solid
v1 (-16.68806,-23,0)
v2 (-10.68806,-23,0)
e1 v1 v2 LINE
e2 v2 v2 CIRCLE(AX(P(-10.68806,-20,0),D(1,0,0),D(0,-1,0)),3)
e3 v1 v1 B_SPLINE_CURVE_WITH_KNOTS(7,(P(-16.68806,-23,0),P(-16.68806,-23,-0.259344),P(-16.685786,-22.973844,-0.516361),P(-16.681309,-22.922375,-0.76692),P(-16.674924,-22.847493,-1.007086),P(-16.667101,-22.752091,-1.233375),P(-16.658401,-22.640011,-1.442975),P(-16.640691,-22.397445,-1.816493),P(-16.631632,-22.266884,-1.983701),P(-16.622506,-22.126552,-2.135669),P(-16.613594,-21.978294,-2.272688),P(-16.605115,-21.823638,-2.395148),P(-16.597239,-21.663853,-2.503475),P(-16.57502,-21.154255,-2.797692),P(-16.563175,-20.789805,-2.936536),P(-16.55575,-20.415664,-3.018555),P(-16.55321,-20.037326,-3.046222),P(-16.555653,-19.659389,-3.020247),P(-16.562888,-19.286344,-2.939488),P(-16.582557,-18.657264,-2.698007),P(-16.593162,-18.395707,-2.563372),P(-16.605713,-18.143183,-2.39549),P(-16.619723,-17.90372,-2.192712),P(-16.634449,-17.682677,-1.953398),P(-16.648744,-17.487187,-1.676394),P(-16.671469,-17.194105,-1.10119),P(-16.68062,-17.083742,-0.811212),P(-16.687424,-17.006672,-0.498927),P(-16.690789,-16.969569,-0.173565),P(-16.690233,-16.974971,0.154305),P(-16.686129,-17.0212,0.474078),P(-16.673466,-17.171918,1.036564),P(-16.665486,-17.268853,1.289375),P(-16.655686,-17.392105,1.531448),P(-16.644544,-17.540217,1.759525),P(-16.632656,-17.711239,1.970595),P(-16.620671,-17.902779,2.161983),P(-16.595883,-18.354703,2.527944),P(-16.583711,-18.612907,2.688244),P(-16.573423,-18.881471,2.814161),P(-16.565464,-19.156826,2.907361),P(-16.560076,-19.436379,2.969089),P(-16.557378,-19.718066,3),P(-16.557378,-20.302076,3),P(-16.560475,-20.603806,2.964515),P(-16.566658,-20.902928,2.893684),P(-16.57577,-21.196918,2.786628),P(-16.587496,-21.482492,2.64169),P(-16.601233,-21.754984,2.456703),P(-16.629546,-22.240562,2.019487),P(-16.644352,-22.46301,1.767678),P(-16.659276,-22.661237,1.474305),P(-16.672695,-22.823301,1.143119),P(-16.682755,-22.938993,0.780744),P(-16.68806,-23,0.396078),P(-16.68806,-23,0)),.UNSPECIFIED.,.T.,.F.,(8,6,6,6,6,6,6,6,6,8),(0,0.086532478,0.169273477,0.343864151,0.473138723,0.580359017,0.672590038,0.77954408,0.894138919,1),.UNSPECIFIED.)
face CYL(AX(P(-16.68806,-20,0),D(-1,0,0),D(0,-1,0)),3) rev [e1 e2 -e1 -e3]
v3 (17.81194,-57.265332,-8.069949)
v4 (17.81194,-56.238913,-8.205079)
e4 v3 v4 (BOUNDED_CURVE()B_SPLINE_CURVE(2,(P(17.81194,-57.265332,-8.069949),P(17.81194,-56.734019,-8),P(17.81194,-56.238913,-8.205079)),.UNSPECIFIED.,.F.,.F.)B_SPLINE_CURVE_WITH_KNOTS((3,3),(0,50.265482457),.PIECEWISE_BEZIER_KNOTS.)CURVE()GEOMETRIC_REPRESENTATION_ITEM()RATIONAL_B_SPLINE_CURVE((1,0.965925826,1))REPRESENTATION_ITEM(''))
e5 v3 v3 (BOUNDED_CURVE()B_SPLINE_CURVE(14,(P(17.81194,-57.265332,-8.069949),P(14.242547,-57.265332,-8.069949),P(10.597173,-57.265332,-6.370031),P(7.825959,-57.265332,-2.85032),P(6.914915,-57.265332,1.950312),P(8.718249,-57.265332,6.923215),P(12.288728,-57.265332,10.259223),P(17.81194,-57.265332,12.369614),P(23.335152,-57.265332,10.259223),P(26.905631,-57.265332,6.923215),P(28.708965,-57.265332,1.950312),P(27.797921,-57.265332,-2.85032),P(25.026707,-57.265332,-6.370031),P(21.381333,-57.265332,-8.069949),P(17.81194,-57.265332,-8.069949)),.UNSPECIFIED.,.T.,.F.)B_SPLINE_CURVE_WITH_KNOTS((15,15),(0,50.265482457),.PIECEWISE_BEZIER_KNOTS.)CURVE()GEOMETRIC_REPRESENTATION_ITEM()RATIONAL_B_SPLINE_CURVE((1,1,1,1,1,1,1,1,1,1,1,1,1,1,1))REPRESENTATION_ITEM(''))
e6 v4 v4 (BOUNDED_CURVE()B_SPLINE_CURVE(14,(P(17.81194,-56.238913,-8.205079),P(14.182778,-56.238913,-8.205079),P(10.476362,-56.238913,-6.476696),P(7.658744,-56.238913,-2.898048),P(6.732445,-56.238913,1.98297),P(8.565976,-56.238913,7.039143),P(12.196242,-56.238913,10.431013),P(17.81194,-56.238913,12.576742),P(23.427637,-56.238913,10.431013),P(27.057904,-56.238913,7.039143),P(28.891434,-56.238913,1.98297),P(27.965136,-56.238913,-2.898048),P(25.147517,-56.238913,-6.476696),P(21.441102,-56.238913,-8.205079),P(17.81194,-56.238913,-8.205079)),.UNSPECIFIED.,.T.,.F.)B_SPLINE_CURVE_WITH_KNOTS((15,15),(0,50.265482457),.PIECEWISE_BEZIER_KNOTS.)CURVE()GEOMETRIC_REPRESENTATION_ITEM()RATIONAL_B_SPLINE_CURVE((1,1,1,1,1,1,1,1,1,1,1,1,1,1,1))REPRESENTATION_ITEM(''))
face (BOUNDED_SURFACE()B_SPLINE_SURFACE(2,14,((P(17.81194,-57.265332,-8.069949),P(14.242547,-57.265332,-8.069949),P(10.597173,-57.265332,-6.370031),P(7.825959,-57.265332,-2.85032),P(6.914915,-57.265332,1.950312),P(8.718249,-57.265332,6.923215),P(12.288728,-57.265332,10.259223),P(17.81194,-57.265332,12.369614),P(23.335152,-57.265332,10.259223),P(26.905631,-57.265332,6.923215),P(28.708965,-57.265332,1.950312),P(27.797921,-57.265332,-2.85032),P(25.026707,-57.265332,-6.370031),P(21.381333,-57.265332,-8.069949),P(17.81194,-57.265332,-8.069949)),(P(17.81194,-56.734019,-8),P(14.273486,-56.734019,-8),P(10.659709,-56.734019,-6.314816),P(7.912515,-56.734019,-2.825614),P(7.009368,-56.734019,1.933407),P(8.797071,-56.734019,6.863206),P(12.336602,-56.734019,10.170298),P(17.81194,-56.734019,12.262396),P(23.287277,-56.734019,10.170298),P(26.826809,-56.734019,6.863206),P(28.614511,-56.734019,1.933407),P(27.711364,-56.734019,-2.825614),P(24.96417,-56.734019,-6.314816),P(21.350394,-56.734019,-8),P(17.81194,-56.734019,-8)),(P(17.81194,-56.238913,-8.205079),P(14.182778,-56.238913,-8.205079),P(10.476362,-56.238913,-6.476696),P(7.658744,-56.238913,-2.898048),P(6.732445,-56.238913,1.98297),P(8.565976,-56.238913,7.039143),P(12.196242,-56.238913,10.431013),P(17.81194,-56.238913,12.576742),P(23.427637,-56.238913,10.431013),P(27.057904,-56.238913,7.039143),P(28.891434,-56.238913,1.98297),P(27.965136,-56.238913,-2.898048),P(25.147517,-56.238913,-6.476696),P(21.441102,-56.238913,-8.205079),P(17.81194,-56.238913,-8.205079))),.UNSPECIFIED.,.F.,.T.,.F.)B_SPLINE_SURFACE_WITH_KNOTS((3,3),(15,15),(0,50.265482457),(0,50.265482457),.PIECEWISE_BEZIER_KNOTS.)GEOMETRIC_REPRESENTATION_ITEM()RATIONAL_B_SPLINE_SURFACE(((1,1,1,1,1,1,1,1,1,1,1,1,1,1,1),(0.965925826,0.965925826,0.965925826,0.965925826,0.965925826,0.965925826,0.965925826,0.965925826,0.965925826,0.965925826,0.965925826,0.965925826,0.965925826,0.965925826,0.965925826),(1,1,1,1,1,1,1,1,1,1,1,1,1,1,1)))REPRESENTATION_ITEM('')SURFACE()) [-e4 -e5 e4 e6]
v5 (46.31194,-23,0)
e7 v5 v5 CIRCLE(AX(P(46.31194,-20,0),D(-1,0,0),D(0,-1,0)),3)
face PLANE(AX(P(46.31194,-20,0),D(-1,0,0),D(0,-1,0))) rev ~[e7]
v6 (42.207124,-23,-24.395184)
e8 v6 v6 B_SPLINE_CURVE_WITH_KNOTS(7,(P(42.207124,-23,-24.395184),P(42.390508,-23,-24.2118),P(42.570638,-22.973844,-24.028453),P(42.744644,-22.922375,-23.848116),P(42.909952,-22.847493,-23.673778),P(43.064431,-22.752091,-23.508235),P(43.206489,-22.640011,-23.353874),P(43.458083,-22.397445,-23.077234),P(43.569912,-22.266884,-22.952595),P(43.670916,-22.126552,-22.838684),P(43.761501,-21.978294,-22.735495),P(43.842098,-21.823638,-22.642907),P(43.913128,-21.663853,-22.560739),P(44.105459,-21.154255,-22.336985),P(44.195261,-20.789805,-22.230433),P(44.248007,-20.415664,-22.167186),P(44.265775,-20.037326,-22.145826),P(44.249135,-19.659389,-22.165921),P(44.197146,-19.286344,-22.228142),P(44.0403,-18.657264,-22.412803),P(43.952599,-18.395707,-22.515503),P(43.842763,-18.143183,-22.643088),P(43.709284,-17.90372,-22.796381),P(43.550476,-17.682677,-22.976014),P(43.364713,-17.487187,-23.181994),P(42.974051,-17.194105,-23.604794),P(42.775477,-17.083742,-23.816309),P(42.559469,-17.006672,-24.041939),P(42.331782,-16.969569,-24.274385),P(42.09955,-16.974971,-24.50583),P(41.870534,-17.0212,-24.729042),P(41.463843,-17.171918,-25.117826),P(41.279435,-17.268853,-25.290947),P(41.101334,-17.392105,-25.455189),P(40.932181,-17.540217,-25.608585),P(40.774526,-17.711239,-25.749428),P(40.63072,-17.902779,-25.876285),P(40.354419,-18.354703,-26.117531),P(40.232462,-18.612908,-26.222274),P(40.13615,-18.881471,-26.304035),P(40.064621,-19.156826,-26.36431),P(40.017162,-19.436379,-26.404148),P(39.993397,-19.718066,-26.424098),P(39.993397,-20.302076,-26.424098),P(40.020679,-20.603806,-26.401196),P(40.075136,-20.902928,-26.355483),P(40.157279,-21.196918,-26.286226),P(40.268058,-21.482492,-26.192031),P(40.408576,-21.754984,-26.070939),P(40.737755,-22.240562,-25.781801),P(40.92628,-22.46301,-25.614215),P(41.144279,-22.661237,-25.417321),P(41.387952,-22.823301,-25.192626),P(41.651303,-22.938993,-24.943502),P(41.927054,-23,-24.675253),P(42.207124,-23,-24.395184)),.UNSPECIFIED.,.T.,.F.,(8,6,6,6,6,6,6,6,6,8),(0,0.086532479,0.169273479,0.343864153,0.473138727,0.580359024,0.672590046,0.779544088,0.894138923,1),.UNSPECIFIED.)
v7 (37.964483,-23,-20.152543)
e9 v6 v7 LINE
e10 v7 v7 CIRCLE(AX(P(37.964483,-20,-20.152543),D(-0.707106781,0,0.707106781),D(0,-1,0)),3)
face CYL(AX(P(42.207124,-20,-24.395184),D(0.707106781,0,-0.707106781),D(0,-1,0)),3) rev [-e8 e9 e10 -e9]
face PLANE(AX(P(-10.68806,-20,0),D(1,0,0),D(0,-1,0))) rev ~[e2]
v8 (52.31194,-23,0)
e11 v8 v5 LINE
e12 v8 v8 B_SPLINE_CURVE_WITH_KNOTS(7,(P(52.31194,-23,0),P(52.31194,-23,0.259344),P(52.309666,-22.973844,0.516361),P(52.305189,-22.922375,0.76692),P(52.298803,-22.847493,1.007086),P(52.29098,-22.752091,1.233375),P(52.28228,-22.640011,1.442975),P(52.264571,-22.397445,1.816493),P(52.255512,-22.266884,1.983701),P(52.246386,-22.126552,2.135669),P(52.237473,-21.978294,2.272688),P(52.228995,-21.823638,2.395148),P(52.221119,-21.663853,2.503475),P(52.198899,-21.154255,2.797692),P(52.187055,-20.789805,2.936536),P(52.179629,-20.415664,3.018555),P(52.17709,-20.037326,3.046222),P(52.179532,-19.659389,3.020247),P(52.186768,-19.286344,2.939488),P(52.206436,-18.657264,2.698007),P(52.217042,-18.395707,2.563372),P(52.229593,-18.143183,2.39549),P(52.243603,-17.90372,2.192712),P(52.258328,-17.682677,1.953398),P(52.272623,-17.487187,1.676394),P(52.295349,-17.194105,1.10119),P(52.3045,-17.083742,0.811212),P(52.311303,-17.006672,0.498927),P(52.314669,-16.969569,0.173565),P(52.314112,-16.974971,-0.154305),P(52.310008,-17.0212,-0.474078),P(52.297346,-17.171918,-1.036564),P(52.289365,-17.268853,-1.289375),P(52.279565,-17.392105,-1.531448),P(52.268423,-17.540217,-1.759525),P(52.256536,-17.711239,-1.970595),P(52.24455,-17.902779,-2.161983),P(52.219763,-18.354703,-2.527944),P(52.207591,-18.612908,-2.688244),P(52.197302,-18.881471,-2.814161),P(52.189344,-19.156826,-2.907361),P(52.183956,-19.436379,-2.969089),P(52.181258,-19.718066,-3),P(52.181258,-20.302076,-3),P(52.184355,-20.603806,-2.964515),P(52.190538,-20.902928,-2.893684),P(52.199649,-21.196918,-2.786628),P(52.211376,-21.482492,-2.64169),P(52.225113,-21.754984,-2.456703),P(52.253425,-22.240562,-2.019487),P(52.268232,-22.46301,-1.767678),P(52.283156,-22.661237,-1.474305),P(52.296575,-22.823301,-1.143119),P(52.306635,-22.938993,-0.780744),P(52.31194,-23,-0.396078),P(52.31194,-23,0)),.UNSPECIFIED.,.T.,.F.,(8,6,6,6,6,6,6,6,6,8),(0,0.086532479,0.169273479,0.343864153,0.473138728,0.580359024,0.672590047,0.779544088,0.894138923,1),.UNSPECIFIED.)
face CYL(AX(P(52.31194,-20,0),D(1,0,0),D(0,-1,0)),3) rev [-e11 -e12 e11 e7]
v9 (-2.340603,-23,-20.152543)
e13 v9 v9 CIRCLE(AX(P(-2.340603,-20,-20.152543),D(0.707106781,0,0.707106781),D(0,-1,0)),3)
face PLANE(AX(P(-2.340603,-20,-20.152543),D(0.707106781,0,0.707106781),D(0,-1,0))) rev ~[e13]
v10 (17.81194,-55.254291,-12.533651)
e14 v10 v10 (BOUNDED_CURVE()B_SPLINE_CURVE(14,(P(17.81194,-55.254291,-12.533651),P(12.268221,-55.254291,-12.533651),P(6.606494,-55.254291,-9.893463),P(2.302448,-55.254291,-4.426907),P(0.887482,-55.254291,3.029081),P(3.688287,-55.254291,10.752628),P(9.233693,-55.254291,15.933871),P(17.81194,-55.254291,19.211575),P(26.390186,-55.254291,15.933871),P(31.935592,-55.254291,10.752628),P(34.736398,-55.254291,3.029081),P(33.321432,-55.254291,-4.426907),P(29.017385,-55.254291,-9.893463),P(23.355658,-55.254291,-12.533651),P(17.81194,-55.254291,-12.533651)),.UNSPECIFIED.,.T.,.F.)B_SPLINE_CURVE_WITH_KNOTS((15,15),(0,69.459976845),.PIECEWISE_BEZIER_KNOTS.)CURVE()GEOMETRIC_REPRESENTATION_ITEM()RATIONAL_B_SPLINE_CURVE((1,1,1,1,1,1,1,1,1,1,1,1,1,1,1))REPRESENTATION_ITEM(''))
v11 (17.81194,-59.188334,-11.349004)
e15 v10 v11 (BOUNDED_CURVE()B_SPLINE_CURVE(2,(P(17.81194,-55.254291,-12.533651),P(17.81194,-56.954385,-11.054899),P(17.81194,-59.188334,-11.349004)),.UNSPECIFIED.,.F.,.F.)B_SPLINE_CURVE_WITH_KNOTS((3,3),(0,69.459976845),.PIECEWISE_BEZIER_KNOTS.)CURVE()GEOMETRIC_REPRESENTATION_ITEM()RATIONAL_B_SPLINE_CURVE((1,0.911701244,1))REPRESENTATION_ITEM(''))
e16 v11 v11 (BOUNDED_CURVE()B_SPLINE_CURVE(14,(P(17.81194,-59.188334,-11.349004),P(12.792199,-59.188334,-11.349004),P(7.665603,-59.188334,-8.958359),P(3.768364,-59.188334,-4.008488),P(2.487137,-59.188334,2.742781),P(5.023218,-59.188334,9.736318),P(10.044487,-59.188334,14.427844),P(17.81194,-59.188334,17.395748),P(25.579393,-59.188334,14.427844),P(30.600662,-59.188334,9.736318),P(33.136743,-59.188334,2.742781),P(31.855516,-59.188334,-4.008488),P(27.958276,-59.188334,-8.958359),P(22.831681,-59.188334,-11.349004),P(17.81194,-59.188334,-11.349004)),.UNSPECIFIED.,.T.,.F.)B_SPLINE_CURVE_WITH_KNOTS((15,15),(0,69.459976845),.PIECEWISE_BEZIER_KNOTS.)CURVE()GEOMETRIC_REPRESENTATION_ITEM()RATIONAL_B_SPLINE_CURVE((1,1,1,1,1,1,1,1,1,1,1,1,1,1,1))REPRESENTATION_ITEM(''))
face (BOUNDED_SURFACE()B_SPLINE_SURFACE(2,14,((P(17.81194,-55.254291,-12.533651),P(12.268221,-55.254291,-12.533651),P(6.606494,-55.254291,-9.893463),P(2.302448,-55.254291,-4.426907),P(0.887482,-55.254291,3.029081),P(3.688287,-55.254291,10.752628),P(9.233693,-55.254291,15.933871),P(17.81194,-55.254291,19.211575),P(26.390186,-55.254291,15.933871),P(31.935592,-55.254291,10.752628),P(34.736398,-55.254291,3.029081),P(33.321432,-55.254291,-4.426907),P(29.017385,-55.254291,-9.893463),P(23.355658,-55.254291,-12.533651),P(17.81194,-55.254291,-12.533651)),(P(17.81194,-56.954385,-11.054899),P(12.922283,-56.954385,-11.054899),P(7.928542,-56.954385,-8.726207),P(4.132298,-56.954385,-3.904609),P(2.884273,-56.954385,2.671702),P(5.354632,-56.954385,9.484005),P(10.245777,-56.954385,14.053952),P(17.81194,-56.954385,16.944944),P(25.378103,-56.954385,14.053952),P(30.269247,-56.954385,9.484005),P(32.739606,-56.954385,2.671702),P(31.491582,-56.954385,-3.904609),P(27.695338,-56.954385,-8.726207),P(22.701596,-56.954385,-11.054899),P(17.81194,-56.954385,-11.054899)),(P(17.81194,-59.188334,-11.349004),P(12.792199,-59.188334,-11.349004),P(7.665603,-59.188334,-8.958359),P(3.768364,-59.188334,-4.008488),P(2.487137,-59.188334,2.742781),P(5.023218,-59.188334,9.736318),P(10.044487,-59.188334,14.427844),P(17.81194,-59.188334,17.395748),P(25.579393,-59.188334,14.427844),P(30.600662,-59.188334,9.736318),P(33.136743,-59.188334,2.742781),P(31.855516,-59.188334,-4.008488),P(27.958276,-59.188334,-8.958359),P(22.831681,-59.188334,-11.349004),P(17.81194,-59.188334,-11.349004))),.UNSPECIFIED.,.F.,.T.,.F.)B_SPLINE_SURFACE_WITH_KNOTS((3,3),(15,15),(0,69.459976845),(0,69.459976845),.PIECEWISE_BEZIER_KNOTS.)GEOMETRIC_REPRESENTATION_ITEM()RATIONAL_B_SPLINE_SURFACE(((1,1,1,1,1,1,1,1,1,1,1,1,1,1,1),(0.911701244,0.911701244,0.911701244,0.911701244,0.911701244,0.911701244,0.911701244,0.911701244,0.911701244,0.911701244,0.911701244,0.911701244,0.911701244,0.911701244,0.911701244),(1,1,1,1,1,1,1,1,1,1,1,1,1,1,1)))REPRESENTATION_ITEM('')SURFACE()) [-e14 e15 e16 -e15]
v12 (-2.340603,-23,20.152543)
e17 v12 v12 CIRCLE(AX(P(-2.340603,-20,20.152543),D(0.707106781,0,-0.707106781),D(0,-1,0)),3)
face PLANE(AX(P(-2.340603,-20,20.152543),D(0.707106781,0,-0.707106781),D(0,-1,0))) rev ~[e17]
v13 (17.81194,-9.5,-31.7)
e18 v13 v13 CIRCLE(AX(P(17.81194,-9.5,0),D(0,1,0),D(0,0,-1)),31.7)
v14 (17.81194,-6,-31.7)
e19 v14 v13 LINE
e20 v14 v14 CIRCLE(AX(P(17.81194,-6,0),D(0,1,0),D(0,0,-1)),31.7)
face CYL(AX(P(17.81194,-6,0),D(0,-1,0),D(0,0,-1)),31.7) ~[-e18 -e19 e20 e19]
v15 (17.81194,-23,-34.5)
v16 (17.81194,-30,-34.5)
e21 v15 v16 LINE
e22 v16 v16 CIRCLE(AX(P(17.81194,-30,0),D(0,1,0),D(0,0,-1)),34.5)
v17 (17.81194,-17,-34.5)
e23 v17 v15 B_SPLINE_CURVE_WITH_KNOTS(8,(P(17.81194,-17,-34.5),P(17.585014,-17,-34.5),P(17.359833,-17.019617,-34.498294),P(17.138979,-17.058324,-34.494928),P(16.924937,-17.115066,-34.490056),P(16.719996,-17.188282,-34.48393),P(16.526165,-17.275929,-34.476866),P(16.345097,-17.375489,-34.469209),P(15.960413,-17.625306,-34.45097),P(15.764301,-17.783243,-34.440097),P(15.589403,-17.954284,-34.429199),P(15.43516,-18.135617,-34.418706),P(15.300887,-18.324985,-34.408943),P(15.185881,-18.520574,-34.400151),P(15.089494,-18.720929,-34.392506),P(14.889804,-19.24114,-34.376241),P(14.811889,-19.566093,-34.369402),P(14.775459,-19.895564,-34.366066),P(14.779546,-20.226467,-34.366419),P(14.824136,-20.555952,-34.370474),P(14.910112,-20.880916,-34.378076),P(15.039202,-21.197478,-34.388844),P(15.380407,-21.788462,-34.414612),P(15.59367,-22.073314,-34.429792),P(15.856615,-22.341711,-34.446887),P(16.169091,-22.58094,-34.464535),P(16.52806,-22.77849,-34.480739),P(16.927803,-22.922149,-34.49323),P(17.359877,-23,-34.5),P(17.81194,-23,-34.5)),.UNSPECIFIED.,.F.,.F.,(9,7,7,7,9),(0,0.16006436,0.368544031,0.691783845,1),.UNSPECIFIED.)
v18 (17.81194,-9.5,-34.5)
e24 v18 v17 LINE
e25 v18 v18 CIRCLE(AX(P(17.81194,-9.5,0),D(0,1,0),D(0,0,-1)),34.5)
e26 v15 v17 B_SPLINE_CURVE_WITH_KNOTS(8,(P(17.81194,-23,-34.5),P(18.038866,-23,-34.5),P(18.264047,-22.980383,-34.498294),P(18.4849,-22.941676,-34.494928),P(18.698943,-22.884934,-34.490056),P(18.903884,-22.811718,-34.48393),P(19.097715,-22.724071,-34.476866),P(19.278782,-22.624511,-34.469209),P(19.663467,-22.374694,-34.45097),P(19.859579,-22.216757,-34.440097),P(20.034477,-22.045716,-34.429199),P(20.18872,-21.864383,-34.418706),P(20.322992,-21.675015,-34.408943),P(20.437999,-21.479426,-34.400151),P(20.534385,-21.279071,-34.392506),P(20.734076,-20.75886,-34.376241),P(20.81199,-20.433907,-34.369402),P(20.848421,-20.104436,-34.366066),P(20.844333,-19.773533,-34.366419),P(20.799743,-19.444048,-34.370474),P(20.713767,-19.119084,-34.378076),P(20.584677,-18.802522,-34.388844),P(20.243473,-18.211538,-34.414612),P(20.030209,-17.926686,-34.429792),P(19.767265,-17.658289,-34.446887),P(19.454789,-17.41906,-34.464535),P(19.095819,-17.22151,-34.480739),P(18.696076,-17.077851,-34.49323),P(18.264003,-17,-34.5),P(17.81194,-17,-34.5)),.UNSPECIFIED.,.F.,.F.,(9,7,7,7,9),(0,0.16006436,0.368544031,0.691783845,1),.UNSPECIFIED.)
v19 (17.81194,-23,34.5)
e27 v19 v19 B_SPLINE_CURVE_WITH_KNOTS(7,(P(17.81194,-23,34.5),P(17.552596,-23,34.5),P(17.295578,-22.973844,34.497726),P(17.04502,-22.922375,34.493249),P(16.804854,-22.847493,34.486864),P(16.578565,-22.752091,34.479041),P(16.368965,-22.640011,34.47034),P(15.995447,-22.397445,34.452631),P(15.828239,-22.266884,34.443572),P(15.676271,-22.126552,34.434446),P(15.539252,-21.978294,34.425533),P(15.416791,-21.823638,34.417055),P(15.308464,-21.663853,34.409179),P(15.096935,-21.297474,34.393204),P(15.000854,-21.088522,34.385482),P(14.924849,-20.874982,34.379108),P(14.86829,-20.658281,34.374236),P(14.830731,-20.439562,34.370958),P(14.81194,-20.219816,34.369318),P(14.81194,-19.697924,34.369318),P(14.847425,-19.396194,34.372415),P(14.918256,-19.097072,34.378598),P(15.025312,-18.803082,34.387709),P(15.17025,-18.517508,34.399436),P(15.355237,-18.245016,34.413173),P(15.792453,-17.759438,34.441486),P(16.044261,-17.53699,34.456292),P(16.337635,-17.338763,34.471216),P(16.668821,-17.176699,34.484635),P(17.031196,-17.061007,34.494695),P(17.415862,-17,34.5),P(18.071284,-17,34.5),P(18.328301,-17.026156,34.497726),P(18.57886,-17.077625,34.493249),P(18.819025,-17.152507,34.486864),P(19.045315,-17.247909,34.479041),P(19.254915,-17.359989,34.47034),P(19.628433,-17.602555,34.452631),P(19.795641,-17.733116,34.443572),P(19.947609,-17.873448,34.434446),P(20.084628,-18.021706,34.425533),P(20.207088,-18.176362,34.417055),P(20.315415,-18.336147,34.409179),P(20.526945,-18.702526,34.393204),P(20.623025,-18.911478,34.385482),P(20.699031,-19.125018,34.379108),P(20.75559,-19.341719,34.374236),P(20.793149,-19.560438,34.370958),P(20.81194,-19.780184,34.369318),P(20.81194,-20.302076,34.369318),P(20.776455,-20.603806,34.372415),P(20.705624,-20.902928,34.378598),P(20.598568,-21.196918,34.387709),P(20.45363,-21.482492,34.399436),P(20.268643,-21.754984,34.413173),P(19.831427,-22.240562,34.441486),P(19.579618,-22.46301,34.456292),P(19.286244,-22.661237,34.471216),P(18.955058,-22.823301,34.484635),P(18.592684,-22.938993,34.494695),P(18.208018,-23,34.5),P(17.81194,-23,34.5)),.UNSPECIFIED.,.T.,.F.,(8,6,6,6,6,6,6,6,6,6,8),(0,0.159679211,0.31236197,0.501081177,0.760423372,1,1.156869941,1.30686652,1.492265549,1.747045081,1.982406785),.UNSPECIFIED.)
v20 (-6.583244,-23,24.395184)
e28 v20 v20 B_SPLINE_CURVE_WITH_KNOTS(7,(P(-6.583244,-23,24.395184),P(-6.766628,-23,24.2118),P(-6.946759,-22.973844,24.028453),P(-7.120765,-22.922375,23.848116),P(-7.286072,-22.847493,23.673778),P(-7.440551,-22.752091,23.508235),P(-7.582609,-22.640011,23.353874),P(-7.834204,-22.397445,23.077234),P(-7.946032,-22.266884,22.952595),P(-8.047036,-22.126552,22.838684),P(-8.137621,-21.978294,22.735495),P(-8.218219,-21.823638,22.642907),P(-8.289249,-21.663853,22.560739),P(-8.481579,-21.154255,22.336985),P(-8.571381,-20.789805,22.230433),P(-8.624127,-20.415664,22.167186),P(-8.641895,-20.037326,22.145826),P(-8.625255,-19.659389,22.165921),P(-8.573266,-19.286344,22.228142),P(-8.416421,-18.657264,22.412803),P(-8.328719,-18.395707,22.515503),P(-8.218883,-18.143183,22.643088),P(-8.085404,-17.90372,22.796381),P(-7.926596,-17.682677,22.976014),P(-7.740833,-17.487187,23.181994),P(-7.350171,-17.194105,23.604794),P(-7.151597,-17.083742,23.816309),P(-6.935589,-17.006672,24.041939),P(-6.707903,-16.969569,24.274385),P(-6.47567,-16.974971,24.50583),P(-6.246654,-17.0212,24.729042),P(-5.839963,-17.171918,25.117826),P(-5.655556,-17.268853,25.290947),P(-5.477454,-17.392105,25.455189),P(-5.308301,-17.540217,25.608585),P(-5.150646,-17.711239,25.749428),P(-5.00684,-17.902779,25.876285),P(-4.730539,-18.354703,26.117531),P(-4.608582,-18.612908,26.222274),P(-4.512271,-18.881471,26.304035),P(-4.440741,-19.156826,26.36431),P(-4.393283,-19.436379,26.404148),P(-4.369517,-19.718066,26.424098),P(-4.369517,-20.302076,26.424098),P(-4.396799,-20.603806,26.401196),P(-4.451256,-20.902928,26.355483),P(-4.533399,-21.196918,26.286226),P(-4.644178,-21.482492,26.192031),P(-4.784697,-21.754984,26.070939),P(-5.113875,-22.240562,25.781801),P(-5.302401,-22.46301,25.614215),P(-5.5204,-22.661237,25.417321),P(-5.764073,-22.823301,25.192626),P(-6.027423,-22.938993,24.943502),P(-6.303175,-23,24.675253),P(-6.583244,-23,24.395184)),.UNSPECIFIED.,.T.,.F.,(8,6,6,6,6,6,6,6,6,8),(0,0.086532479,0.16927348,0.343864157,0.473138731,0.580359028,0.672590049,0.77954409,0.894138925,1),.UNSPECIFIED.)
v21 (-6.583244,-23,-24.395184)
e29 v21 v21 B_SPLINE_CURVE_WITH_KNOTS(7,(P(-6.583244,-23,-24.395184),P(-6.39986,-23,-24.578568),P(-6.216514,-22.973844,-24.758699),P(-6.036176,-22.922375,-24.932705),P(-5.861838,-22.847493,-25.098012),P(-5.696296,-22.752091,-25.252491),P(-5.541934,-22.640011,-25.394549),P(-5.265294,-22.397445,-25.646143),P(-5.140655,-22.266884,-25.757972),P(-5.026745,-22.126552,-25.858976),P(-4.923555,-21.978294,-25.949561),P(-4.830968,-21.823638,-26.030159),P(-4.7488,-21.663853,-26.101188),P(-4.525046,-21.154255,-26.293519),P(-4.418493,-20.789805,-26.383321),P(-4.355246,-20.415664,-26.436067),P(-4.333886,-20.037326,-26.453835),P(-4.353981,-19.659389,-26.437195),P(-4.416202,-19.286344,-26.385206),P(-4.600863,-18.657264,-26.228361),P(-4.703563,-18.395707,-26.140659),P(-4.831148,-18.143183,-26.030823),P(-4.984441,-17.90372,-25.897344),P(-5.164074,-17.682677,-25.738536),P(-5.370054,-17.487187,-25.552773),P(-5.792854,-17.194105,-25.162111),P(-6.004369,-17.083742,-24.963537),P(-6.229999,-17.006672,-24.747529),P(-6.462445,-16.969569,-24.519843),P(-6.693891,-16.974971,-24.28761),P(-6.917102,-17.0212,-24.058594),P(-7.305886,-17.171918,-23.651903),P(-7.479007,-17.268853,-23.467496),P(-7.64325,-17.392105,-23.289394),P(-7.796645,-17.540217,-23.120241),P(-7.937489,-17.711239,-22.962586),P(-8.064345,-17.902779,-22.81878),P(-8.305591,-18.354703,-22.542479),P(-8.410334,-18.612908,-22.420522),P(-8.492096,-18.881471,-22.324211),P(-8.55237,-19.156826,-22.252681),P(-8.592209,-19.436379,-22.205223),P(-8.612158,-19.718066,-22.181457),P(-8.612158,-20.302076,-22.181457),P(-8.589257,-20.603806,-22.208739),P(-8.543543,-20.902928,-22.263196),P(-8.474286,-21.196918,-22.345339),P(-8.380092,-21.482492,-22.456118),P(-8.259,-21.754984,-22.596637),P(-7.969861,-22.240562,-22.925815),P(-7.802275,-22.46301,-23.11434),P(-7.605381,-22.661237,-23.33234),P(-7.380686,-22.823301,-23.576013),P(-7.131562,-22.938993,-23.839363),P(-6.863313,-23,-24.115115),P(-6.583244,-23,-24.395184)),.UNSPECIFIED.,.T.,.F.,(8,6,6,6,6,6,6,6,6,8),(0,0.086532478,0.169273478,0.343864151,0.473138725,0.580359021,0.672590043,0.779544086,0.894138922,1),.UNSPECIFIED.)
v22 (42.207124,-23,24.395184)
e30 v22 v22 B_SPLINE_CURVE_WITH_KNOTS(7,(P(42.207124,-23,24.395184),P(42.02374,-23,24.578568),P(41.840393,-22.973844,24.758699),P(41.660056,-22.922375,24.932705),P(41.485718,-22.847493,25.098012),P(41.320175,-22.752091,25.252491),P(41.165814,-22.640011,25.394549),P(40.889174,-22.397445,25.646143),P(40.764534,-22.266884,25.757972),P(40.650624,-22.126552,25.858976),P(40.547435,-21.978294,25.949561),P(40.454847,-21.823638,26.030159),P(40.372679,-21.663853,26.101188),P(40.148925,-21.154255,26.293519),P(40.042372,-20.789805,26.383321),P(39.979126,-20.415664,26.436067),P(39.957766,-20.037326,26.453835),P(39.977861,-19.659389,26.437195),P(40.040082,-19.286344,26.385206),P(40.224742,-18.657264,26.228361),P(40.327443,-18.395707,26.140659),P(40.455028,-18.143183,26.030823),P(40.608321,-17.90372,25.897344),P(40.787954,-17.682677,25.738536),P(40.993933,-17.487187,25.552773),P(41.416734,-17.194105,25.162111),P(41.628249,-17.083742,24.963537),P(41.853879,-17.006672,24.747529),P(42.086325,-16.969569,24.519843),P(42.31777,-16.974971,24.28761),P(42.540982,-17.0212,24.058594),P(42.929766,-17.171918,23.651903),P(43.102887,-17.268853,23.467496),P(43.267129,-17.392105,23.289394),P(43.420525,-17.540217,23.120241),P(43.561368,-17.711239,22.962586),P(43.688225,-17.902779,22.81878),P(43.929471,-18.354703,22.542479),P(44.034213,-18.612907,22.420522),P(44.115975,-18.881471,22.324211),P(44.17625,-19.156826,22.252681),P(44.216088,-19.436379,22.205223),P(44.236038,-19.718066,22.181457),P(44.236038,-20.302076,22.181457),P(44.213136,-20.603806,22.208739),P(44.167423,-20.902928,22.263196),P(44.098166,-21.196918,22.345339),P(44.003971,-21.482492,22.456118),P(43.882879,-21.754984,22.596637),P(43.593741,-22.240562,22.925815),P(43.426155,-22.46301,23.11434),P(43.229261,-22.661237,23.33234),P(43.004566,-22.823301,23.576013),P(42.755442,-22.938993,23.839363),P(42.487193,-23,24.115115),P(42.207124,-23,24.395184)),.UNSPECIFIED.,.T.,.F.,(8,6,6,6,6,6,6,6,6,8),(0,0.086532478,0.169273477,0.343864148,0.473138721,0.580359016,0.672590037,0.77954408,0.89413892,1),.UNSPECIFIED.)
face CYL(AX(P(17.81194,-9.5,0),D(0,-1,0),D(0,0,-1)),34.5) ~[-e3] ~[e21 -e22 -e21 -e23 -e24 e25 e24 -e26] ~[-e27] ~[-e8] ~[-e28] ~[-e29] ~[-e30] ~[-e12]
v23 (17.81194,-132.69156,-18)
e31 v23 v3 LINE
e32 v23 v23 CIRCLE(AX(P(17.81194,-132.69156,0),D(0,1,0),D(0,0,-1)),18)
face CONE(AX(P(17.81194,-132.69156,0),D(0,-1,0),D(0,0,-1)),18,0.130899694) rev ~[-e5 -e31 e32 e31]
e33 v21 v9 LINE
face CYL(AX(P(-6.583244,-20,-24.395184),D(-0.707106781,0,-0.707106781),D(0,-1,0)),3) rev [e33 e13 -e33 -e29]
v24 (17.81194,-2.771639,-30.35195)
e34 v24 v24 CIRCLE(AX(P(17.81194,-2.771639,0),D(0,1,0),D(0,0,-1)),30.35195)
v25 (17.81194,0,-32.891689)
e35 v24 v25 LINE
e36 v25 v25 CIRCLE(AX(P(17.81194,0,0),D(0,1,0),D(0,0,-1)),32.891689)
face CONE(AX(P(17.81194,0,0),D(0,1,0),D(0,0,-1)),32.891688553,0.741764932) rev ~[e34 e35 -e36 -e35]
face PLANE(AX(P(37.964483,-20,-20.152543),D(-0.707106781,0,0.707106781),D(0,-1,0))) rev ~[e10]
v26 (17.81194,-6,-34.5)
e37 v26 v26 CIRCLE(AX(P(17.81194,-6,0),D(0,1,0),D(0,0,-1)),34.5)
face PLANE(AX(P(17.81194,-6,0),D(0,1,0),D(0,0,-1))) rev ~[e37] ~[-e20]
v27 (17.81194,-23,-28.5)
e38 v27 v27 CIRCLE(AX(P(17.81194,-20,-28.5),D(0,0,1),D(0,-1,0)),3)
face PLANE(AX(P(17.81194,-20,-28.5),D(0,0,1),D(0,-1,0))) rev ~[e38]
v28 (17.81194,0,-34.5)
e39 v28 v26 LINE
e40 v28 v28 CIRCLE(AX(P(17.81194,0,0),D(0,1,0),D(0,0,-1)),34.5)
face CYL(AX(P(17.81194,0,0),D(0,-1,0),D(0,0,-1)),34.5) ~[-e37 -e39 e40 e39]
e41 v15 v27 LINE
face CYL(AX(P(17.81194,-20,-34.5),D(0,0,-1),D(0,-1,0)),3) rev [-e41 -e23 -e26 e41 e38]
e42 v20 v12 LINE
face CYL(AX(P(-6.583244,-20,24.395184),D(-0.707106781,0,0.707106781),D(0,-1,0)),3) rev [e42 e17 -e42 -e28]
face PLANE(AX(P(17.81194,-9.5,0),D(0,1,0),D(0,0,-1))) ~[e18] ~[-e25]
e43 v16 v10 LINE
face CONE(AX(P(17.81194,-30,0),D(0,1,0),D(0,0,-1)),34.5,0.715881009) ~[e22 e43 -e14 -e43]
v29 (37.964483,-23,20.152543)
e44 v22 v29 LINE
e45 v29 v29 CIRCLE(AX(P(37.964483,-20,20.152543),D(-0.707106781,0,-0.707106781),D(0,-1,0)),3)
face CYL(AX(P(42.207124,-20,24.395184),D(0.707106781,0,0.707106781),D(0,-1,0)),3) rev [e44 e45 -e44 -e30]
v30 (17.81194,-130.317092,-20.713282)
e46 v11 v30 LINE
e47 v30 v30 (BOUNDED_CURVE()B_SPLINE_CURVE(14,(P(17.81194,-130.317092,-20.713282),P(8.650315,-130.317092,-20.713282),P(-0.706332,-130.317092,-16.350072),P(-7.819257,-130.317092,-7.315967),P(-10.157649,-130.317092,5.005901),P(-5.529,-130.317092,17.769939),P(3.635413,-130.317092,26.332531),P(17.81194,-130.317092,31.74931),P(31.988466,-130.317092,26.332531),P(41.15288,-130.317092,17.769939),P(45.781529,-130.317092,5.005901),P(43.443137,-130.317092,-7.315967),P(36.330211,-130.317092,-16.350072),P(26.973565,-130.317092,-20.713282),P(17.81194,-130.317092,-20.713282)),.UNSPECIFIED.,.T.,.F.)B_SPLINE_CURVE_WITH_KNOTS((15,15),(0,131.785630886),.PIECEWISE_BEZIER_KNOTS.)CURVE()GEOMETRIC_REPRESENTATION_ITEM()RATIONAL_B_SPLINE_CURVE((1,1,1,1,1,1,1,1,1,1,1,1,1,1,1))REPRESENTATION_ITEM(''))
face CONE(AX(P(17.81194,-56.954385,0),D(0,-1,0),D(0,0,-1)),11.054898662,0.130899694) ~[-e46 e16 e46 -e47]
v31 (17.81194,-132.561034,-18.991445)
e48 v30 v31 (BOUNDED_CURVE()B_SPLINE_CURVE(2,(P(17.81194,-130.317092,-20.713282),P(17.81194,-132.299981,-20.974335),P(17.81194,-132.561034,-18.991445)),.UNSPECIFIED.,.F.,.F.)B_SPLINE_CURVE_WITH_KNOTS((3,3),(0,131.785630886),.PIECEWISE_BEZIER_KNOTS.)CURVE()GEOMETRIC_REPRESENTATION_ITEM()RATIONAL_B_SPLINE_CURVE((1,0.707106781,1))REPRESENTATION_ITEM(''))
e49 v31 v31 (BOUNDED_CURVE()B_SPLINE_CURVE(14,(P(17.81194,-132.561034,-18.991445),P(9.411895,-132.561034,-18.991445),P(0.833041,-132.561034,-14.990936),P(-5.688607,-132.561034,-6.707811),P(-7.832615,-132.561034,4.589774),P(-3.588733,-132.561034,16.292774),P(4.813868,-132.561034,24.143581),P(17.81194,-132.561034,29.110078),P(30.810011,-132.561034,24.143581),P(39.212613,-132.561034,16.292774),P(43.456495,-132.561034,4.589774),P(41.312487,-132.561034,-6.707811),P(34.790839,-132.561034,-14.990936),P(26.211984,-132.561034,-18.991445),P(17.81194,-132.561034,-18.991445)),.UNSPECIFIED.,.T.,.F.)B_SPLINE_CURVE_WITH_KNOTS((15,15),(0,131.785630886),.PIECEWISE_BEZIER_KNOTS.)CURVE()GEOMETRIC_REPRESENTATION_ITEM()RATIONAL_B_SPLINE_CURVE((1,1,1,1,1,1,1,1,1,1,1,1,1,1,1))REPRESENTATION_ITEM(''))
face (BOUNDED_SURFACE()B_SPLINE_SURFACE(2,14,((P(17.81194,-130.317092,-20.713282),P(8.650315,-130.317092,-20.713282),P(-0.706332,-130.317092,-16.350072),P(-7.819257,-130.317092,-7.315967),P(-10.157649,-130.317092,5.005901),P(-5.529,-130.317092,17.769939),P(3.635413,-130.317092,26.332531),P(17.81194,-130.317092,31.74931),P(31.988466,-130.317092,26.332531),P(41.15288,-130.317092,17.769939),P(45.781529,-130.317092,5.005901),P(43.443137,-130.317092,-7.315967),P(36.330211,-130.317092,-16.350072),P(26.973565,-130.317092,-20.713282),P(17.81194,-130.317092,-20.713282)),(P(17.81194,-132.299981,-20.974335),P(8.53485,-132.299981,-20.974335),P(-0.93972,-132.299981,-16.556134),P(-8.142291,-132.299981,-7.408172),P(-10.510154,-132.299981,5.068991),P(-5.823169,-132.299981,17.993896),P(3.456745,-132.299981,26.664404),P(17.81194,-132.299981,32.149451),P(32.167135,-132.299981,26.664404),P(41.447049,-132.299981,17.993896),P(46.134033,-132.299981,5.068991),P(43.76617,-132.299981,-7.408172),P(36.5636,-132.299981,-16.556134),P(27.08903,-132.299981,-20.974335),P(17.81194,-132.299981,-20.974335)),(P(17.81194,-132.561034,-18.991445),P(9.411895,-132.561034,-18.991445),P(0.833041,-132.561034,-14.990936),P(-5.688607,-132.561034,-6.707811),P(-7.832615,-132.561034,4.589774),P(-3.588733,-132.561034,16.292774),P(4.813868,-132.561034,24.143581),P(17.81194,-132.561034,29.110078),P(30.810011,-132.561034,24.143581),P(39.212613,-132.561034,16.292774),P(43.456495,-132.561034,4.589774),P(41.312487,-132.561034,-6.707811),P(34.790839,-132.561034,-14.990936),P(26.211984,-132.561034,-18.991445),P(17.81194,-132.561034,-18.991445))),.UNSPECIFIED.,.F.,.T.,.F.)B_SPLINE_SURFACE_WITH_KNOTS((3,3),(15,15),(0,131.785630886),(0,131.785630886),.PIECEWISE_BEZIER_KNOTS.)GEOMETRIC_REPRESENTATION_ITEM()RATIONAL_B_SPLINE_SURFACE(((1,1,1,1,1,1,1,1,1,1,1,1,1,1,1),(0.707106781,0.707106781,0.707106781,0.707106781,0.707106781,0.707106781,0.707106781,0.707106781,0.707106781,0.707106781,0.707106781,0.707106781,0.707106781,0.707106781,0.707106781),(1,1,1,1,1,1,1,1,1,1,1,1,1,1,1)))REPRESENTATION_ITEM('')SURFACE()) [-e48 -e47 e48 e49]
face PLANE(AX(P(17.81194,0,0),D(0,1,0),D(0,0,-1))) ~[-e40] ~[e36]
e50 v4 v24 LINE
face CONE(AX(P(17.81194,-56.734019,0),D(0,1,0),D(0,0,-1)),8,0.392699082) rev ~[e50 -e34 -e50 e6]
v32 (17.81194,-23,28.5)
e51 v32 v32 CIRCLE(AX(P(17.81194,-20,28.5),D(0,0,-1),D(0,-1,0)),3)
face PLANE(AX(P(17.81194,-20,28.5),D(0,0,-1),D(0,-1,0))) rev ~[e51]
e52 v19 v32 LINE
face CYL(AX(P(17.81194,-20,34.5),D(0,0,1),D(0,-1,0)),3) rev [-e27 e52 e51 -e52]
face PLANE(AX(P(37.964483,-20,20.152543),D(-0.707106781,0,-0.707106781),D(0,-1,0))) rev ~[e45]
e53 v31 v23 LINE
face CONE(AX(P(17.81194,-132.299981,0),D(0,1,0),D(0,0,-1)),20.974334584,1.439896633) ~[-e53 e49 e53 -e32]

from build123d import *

# Parameters (mm, degrees)
FILETE4_R             = 5
FILETE5_R             = 2
FILETE6_R             = 2
ESBO_O2_R             = 3
CORTE_EXTRUS_O1_DEPTH = 6
PADR_OCIRCULAR1_COUNT = 8
CHANFRO3_SIZE         = 3
CHANFRO3_SIZE2        = 1.391688553


with BuildPart() as part:
    # Esboço1 → Revolução1 (revolve)
    with BuildSketch(Plane.XY, mode=Mode.PRIVATE) as revolu_o1_sk:
        Polygon((-13.688060187, 0), (-16.688060187, 0), (-16.688060187, -6), (-13.888060187, -6), (-13.888060187, -9.5), (-16.688060187, -9.5), (-16.688060187, -30), (6.757041151, -56.954385068), (-3.162394771, -132.299981266), (-0.188060187, -132.691559843), (9.811939813, -56.734018716), align=None)
    revolve(revolu_o1_sk.sketch.rotate(Axis((17.811939813, -4.773902368, 0), (0, 1, 0)), 270), axis=Axis((17.811939813, -4.773902368, 0), (0, 1, 0)))

    # Filete4
    filete4_edges = [part.edges().sort_by_distance(p)[0] for p in [
        (17.811939813, -56.954385068, 11.054898662),
    ]]
    fillet(filete4_edges, radius=FILETE4_R)

    # Filete5
    filete5_edges = [part.edges().sort_by_distance(p)[0] for p in [
        (17.811939813, -132.299981266, 20.974334584),
    ]]
    fillet(filete5_edges, radius=FILETE5_R)

    # Filete6
    filete6_edges = [part.edges().sort_by_distance(p)[0] for p in [
        (17.811939813, -56.734018716, 8),
    ]]
    fillet(filete6_edges, radius=FILETE6_R)

    # Esboço2 → Corte-extrusão1 (cut)
    with BuildSketch(Plane.XY.offset(-34.5)):
        with Locations(Location((17.811939813, -20, 0), (0, 0, 270))):
            Circle(ESBO_O2_R)
    corte_extrus_o1 = extrude(amount=CORTE_EXTRUS_O1_DEPTH, mode=Mode.SUBTRACT)

    # PadrãoCircular1: Corte-extrusão1 ×8 about axis
    padr_ocircular1_axis = Axis((17.811939813, 0, 0), (0, 1, 0))
    for i in range(1, PADR_OCIRCULAR1_COUNT):
        add(corte_extrus_o1.rotate(padr_ocircular1_axis, i * 360 / PADR_OCIRCULAR1_COUNT), mode=Mode.SUBTRACT)

    # Chanfro3
    chanfro3_edges = [part.edges().sort_by_distance(p)[0] for p in [
        (17.811939813, 0, 31.5),
    ]]
    chanfro3_side = [part.faces().sort_by_distance(p)[0] for p in [
        (17.811939813, -28.119456583, 19.852539717),
    ]]
    chamfer(chanfro3_edges, length=CHANFRO3_SIZE, length2=CHANFRO3_SIZE2, reference=chanfro3_side[0])


solid = part.part
